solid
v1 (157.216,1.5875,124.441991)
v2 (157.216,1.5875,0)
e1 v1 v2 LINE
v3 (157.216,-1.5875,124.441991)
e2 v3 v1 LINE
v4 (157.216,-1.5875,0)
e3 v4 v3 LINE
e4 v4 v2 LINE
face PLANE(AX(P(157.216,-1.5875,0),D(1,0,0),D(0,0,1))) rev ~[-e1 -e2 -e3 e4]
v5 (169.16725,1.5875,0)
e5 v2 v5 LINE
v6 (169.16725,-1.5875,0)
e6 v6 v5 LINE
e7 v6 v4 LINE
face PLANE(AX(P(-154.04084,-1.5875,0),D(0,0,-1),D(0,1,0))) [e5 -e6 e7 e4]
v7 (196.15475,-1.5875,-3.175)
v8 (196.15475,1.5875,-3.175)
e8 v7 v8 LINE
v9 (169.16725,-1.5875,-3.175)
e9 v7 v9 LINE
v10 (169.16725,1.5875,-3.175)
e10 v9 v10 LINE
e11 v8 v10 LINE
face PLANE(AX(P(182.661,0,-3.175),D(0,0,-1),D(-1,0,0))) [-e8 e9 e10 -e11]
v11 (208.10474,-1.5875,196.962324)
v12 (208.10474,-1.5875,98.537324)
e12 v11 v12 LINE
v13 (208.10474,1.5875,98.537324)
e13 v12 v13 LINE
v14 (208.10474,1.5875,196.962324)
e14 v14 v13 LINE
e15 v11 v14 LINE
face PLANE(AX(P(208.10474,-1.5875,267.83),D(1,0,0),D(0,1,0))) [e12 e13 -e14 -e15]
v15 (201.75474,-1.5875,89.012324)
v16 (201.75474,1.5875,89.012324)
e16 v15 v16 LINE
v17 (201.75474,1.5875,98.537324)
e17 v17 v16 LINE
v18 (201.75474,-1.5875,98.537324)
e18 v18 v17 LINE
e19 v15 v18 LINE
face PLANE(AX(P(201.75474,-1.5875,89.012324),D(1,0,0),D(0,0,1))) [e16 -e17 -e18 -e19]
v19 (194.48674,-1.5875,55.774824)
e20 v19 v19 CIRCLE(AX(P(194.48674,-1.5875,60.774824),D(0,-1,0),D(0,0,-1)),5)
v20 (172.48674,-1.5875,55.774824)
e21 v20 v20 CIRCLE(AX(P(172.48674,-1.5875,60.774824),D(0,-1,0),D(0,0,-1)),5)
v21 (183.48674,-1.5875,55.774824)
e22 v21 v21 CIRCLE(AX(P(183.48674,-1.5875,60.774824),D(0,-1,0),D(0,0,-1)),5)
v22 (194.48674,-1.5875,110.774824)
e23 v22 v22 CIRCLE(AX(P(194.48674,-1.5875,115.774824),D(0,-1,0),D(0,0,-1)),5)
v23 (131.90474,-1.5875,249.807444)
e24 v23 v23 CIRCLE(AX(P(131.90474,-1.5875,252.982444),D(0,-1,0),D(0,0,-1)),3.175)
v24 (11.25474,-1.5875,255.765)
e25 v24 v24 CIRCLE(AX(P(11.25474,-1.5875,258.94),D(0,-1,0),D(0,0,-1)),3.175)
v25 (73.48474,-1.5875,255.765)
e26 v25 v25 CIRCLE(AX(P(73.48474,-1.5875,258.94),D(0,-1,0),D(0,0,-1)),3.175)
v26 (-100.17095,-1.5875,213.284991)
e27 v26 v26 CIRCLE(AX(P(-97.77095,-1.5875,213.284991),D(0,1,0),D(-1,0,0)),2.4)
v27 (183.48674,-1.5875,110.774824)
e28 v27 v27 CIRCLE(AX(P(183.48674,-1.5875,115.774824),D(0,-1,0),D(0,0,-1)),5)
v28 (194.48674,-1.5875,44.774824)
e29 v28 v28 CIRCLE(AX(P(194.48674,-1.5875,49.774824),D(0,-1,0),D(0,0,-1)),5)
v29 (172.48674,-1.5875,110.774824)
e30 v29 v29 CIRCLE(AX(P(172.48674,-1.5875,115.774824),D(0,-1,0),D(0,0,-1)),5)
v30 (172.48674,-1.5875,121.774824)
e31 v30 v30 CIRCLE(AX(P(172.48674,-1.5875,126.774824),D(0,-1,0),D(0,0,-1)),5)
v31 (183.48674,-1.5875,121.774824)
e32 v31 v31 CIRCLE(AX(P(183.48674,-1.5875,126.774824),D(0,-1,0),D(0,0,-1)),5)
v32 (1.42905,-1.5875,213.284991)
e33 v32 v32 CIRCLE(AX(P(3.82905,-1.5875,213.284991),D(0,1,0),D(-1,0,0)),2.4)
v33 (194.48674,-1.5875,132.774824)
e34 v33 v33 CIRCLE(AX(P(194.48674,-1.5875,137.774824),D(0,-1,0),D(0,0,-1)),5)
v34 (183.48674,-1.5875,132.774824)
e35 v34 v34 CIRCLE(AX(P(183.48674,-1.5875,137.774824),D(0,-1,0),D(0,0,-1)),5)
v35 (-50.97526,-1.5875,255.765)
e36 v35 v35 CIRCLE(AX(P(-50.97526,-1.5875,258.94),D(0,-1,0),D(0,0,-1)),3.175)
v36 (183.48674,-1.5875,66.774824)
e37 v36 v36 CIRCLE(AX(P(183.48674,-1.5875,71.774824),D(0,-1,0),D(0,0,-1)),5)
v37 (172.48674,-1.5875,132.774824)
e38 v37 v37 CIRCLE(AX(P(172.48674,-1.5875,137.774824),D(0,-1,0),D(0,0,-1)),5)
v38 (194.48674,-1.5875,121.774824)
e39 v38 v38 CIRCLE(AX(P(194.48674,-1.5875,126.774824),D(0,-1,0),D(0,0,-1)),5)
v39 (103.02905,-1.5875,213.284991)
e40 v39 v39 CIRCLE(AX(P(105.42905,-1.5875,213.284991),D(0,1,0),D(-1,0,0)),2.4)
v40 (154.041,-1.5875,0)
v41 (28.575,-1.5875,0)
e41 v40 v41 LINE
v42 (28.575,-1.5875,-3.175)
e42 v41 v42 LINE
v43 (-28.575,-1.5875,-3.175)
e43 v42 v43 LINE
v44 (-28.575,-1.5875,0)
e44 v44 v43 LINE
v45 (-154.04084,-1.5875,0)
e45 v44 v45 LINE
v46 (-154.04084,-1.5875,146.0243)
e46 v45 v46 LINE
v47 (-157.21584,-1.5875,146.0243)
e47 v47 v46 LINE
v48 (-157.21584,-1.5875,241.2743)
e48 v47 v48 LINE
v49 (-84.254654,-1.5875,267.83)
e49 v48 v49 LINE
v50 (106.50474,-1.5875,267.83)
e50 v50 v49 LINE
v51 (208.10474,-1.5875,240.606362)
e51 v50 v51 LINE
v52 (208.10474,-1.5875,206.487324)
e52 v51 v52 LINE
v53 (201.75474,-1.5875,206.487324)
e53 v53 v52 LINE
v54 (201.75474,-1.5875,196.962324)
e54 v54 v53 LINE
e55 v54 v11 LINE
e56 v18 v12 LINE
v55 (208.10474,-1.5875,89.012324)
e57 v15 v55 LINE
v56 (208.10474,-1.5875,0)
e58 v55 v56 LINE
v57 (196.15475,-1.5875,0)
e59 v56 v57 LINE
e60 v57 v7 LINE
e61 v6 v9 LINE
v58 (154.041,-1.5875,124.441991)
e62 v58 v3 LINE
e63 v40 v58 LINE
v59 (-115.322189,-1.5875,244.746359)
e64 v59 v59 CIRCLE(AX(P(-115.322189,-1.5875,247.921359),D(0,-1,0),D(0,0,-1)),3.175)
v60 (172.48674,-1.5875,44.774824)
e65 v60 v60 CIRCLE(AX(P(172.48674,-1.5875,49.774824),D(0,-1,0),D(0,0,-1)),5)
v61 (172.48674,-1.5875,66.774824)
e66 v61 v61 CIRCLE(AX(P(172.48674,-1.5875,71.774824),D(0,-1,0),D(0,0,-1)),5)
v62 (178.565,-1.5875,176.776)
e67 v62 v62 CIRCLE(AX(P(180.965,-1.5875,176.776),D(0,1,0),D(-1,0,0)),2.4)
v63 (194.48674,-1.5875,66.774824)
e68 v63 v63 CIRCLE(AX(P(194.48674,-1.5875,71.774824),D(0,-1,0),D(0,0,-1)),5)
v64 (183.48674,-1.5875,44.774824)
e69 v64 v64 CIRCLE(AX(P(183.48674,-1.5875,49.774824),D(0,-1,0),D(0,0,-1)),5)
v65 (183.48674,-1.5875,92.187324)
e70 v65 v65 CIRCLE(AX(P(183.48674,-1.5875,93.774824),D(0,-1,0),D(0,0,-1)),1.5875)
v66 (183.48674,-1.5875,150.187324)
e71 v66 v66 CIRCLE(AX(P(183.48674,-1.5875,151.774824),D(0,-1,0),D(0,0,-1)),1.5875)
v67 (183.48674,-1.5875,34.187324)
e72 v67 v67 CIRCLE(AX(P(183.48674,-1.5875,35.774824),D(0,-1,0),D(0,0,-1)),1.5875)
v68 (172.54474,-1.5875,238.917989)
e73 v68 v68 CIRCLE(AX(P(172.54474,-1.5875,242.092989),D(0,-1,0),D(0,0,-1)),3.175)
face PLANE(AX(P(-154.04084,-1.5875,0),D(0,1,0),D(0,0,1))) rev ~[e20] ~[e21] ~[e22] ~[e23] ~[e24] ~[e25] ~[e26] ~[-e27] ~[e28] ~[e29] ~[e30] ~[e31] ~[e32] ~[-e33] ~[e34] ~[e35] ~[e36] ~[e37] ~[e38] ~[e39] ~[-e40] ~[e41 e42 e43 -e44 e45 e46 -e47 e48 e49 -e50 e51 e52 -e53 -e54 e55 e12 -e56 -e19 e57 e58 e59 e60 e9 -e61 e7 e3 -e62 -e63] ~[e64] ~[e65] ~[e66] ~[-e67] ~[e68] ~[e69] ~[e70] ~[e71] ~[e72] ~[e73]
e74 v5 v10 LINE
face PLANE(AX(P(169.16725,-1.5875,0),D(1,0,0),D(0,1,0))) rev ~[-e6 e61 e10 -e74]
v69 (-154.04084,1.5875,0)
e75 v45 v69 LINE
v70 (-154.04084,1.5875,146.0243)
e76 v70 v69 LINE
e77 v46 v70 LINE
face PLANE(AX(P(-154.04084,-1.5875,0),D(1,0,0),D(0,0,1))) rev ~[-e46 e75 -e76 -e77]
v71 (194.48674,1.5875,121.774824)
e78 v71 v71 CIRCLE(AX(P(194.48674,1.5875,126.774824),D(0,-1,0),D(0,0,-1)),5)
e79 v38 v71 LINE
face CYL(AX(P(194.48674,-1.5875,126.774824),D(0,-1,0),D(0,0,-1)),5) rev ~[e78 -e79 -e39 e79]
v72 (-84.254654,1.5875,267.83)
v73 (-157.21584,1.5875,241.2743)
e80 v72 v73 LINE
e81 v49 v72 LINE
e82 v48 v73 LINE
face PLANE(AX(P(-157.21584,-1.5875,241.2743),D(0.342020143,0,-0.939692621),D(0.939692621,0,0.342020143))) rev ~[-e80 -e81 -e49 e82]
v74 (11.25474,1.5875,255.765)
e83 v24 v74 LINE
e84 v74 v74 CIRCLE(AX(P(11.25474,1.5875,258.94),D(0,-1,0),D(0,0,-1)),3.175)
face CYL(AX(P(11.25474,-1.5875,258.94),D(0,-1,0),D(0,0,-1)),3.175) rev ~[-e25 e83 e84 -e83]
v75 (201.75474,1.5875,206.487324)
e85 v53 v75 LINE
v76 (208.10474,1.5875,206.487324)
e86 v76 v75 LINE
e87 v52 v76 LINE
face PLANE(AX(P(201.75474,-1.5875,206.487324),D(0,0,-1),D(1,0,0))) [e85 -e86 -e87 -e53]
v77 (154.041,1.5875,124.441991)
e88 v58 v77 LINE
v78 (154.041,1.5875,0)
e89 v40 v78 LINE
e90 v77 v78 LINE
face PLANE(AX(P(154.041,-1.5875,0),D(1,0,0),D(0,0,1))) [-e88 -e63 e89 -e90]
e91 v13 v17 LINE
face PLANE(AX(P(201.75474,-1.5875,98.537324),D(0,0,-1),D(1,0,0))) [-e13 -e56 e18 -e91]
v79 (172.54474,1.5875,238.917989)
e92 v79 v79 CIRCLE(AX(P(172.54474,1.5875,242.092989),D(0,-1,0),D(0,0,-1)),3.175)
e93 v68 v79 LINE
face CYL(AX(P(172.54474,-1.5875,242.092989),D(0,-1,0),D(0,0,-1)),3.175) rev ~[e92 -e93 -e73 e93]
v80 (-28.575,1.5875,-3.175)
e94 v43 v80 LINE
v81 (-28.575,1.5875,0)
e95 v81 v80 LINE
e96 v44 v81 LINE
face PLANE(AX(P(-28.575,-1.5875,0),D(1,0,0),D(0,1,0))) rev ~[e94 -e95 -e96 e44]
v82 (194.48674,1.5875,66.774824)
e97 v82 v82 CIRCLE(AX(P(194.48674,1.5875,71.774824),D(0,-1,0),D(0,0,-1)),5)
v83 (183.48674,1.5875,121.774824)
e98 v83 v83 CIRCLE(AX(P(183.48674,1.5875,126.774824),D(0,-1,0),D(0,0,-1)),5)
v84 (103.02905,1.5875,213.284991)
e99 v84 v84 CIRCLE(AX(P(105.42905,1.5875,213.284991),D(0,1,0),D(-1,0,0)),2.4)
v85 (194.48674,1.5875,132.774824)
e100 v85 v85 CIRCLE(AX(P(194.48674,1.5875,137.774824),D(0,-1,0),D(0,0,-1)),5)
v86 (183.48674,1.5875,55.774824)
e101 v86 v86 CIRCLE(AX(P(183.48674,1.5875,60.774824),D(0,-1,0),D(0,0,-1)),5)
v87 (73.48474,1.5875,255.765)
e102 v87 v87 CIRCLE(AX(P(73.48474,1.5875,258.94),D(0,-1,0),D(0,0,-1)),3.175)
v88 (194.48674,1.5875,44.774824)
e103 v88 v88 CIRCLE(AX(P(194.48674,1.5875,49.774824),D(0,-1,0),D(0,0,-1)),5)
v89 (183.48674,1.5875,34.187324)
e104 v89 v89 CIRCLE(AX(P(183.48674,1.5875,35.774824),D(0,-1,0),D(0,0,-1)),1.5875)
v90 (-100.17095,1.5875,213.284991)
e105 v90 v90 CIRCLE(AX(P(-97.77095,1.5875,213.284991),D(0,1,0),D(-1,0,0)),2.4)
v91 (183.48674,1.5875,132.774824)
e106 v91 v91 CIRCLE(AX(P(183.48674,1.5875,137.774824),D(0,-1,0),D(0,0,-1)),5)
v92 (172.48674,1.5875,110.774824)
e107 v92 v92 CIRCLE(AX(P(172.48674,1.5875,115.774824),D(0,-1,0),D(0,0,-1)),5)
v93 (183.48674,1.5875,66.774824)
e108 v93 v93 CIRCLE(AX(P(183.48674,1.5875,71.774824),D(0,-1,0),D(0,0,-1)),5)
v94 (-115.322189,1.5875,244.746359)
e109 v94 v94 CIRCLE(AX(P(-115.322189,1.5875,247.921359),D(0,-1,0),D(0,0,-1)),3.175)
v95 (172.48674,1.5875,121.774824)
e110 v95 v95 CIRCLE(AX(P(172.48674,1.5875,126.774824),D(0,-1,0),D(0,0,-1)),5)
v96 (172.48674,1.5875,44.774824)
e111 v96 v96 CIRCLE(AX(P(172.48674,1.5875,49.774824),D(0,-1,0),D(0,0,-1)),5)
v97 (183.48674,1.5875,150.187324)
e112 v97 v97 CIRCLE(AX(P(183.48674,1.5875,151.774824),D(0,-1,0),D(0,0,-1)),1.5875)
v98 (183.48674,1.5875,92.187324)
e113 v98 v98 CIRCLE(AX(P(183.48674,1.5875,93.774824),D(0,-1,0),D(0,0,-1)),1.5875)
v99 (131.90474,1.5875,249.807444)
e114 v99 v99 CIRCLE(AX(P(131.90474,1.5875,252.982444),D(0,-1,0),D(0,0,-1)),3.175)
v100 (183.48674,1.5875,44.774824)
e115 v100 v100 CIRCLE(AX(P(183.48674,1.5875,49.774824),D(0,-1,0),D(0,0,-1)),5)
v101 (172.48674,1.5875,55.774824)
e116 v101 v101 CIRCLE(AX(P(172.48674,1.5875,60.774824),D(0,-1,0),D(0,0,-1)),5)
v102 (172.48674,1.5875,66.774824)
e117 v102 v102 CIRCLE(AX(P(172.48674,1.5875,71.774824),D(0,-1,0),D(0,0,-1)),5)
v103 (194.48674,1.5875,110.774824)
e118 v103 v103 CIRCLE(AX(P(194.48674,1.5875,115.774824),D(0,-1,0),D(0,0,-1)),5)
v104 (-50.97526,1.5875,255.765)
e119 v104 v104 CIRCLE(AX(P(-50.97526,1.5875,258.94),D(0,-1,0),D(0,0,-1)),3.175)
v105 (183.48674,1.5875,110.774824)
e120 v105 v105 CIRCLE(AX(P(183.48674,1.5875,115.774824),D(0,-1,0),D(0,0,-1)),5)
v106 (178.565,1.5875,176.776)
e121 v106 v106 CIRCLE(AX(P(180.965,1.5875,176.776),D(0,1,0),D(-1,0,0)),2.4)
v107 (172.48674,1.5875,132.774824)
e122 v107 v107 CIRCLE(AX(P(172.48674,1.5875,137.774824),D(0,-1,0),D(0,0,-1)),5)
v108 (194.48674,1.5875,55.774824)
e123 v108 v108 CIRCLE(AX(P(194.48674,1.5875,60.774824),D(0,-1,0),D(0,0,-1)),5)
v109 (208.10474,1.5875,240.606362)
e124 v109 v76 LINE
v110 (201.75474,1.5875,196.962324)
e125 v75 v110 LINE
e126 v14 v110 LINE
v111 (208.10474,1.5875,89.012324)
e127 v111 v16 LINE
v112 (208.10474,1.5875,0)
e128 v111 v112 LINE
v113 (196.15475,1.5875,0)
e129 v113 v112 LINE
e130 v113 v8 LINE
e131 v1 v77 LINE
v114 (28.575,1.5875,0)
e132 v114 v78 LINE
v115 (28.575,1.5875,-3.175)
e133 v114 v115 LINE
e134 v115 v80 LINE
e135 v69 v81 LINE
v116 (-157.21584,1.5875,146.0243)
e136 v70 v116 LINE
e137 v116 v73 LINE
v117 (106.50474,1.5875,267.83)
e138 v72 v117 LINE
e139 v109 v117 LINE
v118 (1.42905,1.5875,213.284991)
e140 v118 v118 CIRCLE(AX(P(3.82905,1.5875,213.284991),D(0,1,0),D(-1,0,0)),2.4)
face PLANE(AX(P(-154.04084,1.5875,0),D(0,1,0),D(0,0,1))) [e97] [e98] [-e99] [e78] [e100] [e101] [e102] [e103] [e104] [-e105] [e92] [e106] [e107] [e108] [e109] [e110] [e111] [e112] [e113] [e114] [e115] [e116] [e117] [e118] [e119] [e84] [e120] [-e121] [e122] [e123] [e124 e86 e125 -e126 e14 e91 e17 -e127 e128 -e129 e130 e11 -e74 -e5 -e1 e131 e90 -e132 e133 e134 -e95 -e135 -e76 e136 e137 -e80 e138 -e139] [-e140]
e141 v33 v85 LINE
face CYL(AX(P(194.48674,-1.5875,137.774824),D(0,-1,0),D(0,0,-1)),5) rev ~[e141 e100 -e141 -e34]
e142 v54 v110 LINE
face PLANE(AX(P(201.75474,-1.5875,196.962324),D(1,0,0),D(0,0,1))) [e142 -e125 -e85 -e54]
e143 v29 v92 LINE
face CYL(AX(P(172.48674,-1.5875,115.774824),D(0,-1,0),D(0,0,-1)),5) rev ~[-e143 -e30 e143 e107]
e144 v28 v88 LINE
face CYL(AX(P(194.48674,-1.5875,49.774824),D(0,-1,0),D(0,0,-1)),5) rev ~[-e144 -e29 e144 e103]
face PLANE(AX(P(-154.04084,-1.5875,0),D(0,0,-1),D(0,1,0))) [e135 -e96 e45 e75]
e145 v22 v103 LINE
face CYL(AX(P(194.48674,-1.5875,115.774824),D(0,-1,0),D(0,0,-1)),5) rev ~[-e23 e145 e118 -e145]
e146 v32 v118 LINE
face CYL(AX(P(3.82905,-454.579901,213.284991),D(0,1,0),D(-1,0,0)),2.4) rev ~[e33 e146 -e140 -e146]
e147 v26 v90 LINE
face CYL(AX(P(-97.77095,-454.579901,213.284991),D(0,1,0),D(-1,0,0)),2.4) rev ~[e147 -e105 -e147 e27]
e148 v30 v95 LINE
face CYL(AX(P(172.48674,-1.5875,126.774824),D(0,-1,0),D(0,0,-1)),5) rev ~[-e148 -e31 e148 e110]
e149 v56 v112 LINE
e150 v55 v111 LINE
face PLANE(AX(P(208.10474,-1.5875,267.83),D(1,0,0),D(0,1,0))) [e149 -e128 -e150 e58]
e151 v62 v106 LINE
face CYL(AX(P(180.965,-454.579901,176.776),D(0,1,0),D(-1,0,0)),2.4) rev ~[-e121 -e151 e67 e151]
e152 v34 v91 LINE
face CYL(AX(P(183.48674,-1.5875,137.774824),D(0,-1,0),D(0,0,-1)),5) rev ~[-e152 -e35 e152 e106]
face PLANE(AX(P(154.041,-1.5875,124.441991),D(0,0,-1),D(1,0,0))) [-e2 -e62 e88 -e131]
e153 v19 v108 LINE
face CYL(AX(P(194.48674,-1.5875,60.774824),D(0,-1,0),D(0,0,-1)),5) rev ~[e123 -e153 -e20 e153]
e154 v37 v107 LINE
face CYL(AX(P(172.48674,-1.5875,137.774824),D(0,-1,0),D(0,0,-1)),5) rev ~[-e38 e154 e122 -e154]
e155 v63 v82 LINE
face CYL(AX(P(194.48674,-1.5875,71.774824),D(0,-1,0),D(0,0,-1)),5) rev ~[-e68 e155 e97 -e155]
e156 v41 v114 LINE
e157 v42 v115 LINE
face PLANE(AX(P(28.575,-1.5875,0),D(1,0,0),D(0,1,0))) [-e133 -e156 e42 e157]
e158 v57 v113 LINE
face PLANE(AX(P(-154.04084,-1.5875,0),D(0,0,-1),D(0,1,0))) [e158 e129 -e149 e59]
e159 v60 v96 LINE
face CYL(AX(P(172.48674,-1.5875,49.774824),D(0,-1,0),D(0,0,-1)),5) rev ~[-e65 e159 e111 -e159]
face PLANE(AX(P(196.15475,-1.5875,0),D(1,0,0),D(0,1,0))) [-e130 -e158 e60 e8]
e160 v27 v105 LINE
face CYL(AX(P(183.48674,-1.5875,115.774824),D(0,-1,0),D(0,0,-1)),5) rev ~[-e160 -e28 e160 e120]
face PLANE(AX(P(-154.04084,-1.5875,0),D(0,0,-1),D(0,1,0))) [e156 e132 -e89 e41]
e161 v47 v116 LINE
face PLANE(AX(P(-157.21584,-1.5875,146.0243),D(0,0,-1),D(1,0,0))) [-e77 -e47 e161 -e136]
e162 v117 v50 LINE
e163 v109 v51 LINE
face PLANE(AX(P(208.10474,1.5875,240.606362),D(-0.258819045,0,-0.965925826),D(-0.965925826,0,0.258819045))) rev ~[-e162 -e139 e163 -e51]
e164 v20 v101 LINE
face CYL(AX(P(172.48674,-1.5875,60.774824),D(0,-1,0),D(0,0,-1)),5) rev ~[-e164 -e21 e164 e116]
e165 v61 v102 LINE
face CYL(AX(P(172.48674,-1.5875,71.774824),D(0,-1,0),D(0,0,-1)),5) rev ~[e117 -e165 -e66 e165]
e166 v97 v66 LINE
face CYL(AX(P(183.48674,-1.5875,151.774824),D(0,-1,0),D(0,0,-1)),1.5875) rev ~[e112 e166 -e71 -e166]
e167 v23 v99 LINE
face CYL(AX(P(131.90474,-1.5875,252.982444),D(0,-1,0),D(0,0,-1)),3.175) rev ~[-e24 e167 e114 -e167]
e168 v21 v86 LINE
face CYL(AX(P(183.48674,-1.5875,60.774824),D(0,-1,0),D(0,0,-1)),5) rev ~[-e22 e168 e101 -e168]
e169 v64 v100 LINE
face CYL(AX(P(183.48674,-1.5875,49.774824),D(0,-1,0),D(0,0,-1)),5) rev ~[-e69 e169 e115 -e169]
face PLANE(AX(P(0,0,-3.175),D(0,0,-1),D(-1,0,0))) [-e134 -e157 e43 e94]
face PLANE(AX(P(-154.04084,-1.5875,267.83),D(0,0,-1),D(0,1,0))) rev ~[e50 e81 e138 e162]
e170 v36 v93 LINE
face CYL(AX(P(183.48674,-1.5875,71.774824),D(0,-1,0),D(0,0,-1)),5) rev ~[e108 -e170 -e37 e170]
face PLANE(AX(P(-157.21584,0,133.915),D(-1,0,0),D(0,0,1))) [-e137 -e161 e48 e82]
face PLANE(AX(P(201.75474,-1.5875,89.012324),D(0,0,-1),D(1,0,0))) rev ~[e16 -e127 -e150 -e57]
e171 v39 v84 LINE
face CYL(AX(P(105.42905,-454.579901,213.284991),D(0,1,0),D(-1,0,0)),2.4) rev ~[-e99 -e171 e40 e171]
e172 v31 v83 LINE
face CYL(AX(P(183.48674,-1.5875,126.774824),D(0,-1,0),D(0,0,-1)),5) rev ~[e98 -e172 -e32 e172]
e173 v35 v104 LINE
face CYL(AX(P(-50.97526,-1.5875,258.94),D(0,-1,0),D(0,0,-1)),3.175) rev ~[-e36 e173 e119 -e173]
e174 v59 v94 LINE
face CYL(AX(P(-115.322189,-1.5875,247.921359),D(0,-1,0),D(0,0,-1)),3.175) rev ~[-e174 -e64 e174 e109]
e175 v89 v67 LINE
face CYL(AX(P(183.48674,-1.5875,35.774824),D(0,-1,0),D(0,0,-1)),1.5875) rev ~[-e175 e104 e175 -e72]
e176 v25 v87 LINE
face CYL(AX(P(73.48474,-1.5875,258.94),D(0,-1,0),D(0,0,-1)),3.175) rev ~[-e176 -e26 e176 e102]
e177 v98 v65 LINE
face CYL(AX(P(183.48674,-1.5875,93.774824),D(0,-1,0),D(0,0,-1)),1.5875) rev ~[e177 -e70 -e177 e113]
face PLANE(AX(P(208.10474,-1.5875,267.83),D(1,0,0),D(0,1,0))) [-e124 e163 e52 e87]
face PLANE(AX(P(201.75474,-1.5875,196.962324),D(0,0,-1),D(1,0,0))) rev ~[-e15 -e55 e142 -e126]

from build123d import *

# Parameters (mm, degrees)
SKETCH1_W            = 308.08168
SKETCH1_H            = 3.175
BOSS_EXTRUDE1_DEPTH  = 267.83
SKETCH3_W            = 267.83
SKETCH3_H            = 3.175
BOSS_EXTRUDE3_DEPTH  = 3.175
SKETCH4_W            = 50.8889
SKETCH4_H            = 3.175
BOSS_EXTRUDE4_DEPTH  = 267.83
CUT_EXTRUDE1_DEPTH   = 340.191055801
SKETCH17_W           = 267.83
SKETCH17_H           = 3.175
BOSS_EXTRUDE5_DEPTH  = 3.175
CUT_EXTRUDE3_DEPTH   = 340.191055801
SKETCH25_R           = 3.175
CUT_EXTRUDE8_DEPTH   = 3.175
SKETCH27_R           = 5
CUT_EXTRUDE9_DEPTH   = 340.191055801
SKETCH31_R           = 1.5875
CUT_EXTRUDE10_DEPTH  = 340.191055801
LPATTERN1_COUNT      = 3
LPATTERN1_PITCH      = 58
M4_CLEARANCE_HOLE1_D = 4.8
SKETCH36_W           = 57.15
SKETCH36_H           = 3.175
SKETCH36_W_2         = 26.9875
BOSS_EXTRUDE6_DEPTH  = 3.175
SKETCH37_W           = 3.175
SKETCH37_H           = 124.4419914
CUT_EXTRUDE11_DEPTH  = 340.191055801
SKETCH38_W           = 3.175
SKETCH38_H           = 146.0243
CUT_EXTRUDE12_DEPTH  = 340.191055801
SKETCH39_W           = 6.35
SKETCH39_H           = 9.525
CUT_EXTRUDE13_DEPTH  = 340.191055801


with BuildPart() as part:
    # Sketch1 → Boss-Extrude1 (new body)
    with BuildSketch(Plane.XY):
        Rectangle(SKETCH1_W, SKETCH1_H)
    extrude(amount=BOSS_EXTRUDE1_DEPTH)

    # Sketch3 → Boss-Extrude3 (add)
    with BuildSketch(Plane(origin=(154.04084, 0, 0), x_dir=(0, 0, -1), z_dir=(1, 0, 0))):
        with Locations((-133.915, 0)):
            Rectangle(SKETCH3_W, SKETCH3_H)
    extrude(amount=BOSS_EXTRUDE3_DEPTH)

    # Sketch4 → Boss-Extrude4 (add)
    with BuildSketch(Plane.XY.offset(267.83)):
        with Locations((182.66029, 0)):
            Rectangle(SKETCH4_W, SKETCH4_H)
    extrude(amount=-BOSS_EXTRUDE4_DEPTH)

    # Sketch6 → Cut-Extrude1 (cut, through all)
    with BuildSketch(Plane(origin=(0, 1.5875, 0), x_dir=(1, 0, 0), z_dir=(0, 1, 0))):
        Polygon((208.10474, -240.606362049), (106.50474, -267.83), (208.10474, -267.83), align=None)
    extrude(amount=-CUT_EXTRUDE1_DEPTH, mode=Mode.SUBTRACT)

    # Sketch17 → Boss-Extrude5 (add)
    with BuildSketch(Plane.ZY.offset(154.04084)):
        with Locations((133.915, 0)):
            Rectangle(SKETCH17_W, SKETCH17_H)
    extrude(amount=BOSS_EXTRUDE5_DEPTH)

    # Sketch11 → Cut-Extrude3 (cut, through all)
    with BuildSketch(Plane.XZ.offset(1.5875)):
        Polygon((-157.21584, 241.2743), (-84.254653892, 267.83), (-157.21584, 267.83), align=None)
    extrude(amount=-CUT_EXTRUDE3_DEPTH, mode=Mode.SUBTRACT)

    # Sketch25 → Cut-Extrude8 (cut)
    with BuildSketch(Plane.XZ.offset(1.5875)):
        with Locations(Location((-115.322188641, 247.921359373, 0), (0, 0, 270))):
            Circle(SKETCH25_R)
        with Locations(Location((-50.97526, 258.94, 0), (0, 0, 270))):
            Circle(SKETCH25_R)
        with Locations(Location((11.25474, 258.94, 0), (0, 0, 270))):
            Circle(SKETCH25_R)
        with Locations(Location((73.48474, 258.94, 0), (0, 0, 270))):
            Circle(SKETCH25_R)
        with Locations(Location((172.54474, 242.09298883, 0), (0, 0, 270))):
            Circle(SKETCH25_R)
        with Locations(Location((131.90474, 252.982444011, 0), (0, 0, 270))):
            Circle(SKETCH25_R)
    extrude(amount=-CUT_EXTRUDE8_DEPTH, mode=Mode.SUBTRACT)

    # Sketch27 → Cut-Extrude9 (cut, through all)
    with BuildSketch(Plane.XZ.offset(1.5875)):
        with Locations(Location((172.48674, 137.774823778, 0), (0, 0, 270))):
            Circle(SKETCH27_R)
        with Locations(Location((183.48674, 137.774823778, 0), (0, 0, 270))):
            Circle(SKETCH27_R)
        with Locations(Location((194.48674, 137.774823778, 0), (0, 0, 270))):
            Circle(SKETCH27_R)
        with Locations(Location((194.48674, 126.774823778, 0), (0, 0, 270))):
            Circle(SKETCH27_R)
        with Locations(Location((194.48674, 115.774823778, 0), (0, 0, 270))):
            Circle(SKETCH27_R)
        with Locations(Location((183.48674, 126.774823778, 0), (0, 0, 270))):
            Circle(SKETCH27_R)
        with Locations(Location((183.48674, 115.774823778, 0), (0, 0, 270))):
            Circle(SKETCH27_R)
        with Locations(Location((172.48674, 115.774823778, 0), (0, 0, 270))):
            Circle(SKETCH27_R)
        with Locations(Location((172.48674, 126.774823778, 0), (0, 0, 270))):
            Circle(SKETCH27_R)
        with Locations(Location((194.48674, 71.774823778, 0), (0, 0, 270))):
            Circle(SKETCH27_R)
        with Locations(Location((194.48674, 60.774823778, 0), (0, 0, 270))):
            Circle(SKETCH27_R)
        with Locations(Location((194.48674, 49.774823778, 0), (0, 0, 270))):
            Circle(SKETCH27_R)
        with Locations(Location((183.48674, 71.774823778, 0), (0, 0, 270))):
            Circle(SKETCH27_R)
        with Locations(Location((183.48674, 60.774823778, 0), (0, 0, 270))):
            Circle(SKETCH27_R)
        with Locations(Location((183.48674, 49.774823778, 0), (0, 0, 270))):
            Circle(SKETCH27_R)
        with Locations(Location((172.48674, 49.774823778, 0), (0, 0, 270))):
            Circle(SKETCH27_R)
        with Locations(Location((172.48674, 60.774823778, 0), (0, 0, 270))):
            Circle(SKETCH27_R)
        with Locations(Location((172.48674, 71.774823778, 0), (0, 0, 270))):
            Circle(SKETCH27_R)
    extrude(amount=-CUT_EXTRUDE9_DEPTH, mode=Mode.SUBTRACT)

    # Sketch31 → Cut-Extrude10 (cut, symmetric)
    with BuildSketch(Plane.XZ.offset(1.5875)):
        with Locations(Location((183.48674, 151.774823778, 0), (0, 0, 270))):
            Circle(SKETCH31_R)
    cut_extrude10 = extrude(amount=CUT_EXTRUDE10_DEPTH, both=True, mode=Mode.SUBTRACT)

    # LPattern1: Cut-Extrude10 ×3
    with Locations(*[(0, 0, -i * LPATTERN1_PITCH) for i in range(1, LPATTERN1_COUNT)]):
        add(cut_extrude10, mode=Mode.SUBTRACT)

    # M4 Clearance Hole1 (through all)
    with Locations(Plane.XZ.offset(1.5875)):
        with Locations((180.96500002, 176.776), (-97.77095, 213.2849914), (3.82905, 213.2849914), (105.42905, 213.2849914)):
            Hole(M4_CLEARANCE_HOLE1_D / 2)

    # Sketch36 → Boss-Extrude6 (add)
    with BuildSketch(Plane(origin=(0, 0, 0), x_dir=(-1, 0, 0), z_dir=(0, 0, -1))):
        Rectangle(SKETCH36_W, SKETCH36_H)
        with Locations((-182.66100002, 0)):
            Rectangle(SKETCH36_W_2, SKETCH36_H)
    extrude(amount=BOSS_EXTRUDE6_DEPTH)

    # Sketch37 → Cut-Extrude11 (cut, through all)
    with BuildSketch(Plane.XZ.offset(1.5875)):
        with Locations((155.62850002, 62.2209957)):
            Rectangle(SKETCH37_W, SKETCH37_H)
    extrude(amount=-CUT_EXTRUDE11_DEPTH, mode=Mode.SUBTRACT)

    # Sketch38 → Cut-Extrude12 (cut, through all)
    with BuildSketch(Plane.XZ.offset(1.5875)):
        with Locations((-155.62834, 73.01215)):
            Rectangle(SKETCH38_W, SKETCH38_H)
    extrude(amount=-CUT_EXTRUDE12_DEPTH, mode=Mode.SUBTRACT)

    # Sketch39 → Cut-Extrude13 (cut, through all)
    with BuildSketch(Plane.XZ.offset(1.5875)):
        with Locations((204.92974, 93.774823778)):
            Rectangle(SKETCH39_W, SKETCH39_H)
        with Locations((204.92974, 201.724823778)):
            Rectangle(SKETCH39_W, SKETCH39_H)
    extrude(amount=-CUT_EXTRUDE13_DEPTH, mode=Mode.SUBTRACT)


solid = part.part
